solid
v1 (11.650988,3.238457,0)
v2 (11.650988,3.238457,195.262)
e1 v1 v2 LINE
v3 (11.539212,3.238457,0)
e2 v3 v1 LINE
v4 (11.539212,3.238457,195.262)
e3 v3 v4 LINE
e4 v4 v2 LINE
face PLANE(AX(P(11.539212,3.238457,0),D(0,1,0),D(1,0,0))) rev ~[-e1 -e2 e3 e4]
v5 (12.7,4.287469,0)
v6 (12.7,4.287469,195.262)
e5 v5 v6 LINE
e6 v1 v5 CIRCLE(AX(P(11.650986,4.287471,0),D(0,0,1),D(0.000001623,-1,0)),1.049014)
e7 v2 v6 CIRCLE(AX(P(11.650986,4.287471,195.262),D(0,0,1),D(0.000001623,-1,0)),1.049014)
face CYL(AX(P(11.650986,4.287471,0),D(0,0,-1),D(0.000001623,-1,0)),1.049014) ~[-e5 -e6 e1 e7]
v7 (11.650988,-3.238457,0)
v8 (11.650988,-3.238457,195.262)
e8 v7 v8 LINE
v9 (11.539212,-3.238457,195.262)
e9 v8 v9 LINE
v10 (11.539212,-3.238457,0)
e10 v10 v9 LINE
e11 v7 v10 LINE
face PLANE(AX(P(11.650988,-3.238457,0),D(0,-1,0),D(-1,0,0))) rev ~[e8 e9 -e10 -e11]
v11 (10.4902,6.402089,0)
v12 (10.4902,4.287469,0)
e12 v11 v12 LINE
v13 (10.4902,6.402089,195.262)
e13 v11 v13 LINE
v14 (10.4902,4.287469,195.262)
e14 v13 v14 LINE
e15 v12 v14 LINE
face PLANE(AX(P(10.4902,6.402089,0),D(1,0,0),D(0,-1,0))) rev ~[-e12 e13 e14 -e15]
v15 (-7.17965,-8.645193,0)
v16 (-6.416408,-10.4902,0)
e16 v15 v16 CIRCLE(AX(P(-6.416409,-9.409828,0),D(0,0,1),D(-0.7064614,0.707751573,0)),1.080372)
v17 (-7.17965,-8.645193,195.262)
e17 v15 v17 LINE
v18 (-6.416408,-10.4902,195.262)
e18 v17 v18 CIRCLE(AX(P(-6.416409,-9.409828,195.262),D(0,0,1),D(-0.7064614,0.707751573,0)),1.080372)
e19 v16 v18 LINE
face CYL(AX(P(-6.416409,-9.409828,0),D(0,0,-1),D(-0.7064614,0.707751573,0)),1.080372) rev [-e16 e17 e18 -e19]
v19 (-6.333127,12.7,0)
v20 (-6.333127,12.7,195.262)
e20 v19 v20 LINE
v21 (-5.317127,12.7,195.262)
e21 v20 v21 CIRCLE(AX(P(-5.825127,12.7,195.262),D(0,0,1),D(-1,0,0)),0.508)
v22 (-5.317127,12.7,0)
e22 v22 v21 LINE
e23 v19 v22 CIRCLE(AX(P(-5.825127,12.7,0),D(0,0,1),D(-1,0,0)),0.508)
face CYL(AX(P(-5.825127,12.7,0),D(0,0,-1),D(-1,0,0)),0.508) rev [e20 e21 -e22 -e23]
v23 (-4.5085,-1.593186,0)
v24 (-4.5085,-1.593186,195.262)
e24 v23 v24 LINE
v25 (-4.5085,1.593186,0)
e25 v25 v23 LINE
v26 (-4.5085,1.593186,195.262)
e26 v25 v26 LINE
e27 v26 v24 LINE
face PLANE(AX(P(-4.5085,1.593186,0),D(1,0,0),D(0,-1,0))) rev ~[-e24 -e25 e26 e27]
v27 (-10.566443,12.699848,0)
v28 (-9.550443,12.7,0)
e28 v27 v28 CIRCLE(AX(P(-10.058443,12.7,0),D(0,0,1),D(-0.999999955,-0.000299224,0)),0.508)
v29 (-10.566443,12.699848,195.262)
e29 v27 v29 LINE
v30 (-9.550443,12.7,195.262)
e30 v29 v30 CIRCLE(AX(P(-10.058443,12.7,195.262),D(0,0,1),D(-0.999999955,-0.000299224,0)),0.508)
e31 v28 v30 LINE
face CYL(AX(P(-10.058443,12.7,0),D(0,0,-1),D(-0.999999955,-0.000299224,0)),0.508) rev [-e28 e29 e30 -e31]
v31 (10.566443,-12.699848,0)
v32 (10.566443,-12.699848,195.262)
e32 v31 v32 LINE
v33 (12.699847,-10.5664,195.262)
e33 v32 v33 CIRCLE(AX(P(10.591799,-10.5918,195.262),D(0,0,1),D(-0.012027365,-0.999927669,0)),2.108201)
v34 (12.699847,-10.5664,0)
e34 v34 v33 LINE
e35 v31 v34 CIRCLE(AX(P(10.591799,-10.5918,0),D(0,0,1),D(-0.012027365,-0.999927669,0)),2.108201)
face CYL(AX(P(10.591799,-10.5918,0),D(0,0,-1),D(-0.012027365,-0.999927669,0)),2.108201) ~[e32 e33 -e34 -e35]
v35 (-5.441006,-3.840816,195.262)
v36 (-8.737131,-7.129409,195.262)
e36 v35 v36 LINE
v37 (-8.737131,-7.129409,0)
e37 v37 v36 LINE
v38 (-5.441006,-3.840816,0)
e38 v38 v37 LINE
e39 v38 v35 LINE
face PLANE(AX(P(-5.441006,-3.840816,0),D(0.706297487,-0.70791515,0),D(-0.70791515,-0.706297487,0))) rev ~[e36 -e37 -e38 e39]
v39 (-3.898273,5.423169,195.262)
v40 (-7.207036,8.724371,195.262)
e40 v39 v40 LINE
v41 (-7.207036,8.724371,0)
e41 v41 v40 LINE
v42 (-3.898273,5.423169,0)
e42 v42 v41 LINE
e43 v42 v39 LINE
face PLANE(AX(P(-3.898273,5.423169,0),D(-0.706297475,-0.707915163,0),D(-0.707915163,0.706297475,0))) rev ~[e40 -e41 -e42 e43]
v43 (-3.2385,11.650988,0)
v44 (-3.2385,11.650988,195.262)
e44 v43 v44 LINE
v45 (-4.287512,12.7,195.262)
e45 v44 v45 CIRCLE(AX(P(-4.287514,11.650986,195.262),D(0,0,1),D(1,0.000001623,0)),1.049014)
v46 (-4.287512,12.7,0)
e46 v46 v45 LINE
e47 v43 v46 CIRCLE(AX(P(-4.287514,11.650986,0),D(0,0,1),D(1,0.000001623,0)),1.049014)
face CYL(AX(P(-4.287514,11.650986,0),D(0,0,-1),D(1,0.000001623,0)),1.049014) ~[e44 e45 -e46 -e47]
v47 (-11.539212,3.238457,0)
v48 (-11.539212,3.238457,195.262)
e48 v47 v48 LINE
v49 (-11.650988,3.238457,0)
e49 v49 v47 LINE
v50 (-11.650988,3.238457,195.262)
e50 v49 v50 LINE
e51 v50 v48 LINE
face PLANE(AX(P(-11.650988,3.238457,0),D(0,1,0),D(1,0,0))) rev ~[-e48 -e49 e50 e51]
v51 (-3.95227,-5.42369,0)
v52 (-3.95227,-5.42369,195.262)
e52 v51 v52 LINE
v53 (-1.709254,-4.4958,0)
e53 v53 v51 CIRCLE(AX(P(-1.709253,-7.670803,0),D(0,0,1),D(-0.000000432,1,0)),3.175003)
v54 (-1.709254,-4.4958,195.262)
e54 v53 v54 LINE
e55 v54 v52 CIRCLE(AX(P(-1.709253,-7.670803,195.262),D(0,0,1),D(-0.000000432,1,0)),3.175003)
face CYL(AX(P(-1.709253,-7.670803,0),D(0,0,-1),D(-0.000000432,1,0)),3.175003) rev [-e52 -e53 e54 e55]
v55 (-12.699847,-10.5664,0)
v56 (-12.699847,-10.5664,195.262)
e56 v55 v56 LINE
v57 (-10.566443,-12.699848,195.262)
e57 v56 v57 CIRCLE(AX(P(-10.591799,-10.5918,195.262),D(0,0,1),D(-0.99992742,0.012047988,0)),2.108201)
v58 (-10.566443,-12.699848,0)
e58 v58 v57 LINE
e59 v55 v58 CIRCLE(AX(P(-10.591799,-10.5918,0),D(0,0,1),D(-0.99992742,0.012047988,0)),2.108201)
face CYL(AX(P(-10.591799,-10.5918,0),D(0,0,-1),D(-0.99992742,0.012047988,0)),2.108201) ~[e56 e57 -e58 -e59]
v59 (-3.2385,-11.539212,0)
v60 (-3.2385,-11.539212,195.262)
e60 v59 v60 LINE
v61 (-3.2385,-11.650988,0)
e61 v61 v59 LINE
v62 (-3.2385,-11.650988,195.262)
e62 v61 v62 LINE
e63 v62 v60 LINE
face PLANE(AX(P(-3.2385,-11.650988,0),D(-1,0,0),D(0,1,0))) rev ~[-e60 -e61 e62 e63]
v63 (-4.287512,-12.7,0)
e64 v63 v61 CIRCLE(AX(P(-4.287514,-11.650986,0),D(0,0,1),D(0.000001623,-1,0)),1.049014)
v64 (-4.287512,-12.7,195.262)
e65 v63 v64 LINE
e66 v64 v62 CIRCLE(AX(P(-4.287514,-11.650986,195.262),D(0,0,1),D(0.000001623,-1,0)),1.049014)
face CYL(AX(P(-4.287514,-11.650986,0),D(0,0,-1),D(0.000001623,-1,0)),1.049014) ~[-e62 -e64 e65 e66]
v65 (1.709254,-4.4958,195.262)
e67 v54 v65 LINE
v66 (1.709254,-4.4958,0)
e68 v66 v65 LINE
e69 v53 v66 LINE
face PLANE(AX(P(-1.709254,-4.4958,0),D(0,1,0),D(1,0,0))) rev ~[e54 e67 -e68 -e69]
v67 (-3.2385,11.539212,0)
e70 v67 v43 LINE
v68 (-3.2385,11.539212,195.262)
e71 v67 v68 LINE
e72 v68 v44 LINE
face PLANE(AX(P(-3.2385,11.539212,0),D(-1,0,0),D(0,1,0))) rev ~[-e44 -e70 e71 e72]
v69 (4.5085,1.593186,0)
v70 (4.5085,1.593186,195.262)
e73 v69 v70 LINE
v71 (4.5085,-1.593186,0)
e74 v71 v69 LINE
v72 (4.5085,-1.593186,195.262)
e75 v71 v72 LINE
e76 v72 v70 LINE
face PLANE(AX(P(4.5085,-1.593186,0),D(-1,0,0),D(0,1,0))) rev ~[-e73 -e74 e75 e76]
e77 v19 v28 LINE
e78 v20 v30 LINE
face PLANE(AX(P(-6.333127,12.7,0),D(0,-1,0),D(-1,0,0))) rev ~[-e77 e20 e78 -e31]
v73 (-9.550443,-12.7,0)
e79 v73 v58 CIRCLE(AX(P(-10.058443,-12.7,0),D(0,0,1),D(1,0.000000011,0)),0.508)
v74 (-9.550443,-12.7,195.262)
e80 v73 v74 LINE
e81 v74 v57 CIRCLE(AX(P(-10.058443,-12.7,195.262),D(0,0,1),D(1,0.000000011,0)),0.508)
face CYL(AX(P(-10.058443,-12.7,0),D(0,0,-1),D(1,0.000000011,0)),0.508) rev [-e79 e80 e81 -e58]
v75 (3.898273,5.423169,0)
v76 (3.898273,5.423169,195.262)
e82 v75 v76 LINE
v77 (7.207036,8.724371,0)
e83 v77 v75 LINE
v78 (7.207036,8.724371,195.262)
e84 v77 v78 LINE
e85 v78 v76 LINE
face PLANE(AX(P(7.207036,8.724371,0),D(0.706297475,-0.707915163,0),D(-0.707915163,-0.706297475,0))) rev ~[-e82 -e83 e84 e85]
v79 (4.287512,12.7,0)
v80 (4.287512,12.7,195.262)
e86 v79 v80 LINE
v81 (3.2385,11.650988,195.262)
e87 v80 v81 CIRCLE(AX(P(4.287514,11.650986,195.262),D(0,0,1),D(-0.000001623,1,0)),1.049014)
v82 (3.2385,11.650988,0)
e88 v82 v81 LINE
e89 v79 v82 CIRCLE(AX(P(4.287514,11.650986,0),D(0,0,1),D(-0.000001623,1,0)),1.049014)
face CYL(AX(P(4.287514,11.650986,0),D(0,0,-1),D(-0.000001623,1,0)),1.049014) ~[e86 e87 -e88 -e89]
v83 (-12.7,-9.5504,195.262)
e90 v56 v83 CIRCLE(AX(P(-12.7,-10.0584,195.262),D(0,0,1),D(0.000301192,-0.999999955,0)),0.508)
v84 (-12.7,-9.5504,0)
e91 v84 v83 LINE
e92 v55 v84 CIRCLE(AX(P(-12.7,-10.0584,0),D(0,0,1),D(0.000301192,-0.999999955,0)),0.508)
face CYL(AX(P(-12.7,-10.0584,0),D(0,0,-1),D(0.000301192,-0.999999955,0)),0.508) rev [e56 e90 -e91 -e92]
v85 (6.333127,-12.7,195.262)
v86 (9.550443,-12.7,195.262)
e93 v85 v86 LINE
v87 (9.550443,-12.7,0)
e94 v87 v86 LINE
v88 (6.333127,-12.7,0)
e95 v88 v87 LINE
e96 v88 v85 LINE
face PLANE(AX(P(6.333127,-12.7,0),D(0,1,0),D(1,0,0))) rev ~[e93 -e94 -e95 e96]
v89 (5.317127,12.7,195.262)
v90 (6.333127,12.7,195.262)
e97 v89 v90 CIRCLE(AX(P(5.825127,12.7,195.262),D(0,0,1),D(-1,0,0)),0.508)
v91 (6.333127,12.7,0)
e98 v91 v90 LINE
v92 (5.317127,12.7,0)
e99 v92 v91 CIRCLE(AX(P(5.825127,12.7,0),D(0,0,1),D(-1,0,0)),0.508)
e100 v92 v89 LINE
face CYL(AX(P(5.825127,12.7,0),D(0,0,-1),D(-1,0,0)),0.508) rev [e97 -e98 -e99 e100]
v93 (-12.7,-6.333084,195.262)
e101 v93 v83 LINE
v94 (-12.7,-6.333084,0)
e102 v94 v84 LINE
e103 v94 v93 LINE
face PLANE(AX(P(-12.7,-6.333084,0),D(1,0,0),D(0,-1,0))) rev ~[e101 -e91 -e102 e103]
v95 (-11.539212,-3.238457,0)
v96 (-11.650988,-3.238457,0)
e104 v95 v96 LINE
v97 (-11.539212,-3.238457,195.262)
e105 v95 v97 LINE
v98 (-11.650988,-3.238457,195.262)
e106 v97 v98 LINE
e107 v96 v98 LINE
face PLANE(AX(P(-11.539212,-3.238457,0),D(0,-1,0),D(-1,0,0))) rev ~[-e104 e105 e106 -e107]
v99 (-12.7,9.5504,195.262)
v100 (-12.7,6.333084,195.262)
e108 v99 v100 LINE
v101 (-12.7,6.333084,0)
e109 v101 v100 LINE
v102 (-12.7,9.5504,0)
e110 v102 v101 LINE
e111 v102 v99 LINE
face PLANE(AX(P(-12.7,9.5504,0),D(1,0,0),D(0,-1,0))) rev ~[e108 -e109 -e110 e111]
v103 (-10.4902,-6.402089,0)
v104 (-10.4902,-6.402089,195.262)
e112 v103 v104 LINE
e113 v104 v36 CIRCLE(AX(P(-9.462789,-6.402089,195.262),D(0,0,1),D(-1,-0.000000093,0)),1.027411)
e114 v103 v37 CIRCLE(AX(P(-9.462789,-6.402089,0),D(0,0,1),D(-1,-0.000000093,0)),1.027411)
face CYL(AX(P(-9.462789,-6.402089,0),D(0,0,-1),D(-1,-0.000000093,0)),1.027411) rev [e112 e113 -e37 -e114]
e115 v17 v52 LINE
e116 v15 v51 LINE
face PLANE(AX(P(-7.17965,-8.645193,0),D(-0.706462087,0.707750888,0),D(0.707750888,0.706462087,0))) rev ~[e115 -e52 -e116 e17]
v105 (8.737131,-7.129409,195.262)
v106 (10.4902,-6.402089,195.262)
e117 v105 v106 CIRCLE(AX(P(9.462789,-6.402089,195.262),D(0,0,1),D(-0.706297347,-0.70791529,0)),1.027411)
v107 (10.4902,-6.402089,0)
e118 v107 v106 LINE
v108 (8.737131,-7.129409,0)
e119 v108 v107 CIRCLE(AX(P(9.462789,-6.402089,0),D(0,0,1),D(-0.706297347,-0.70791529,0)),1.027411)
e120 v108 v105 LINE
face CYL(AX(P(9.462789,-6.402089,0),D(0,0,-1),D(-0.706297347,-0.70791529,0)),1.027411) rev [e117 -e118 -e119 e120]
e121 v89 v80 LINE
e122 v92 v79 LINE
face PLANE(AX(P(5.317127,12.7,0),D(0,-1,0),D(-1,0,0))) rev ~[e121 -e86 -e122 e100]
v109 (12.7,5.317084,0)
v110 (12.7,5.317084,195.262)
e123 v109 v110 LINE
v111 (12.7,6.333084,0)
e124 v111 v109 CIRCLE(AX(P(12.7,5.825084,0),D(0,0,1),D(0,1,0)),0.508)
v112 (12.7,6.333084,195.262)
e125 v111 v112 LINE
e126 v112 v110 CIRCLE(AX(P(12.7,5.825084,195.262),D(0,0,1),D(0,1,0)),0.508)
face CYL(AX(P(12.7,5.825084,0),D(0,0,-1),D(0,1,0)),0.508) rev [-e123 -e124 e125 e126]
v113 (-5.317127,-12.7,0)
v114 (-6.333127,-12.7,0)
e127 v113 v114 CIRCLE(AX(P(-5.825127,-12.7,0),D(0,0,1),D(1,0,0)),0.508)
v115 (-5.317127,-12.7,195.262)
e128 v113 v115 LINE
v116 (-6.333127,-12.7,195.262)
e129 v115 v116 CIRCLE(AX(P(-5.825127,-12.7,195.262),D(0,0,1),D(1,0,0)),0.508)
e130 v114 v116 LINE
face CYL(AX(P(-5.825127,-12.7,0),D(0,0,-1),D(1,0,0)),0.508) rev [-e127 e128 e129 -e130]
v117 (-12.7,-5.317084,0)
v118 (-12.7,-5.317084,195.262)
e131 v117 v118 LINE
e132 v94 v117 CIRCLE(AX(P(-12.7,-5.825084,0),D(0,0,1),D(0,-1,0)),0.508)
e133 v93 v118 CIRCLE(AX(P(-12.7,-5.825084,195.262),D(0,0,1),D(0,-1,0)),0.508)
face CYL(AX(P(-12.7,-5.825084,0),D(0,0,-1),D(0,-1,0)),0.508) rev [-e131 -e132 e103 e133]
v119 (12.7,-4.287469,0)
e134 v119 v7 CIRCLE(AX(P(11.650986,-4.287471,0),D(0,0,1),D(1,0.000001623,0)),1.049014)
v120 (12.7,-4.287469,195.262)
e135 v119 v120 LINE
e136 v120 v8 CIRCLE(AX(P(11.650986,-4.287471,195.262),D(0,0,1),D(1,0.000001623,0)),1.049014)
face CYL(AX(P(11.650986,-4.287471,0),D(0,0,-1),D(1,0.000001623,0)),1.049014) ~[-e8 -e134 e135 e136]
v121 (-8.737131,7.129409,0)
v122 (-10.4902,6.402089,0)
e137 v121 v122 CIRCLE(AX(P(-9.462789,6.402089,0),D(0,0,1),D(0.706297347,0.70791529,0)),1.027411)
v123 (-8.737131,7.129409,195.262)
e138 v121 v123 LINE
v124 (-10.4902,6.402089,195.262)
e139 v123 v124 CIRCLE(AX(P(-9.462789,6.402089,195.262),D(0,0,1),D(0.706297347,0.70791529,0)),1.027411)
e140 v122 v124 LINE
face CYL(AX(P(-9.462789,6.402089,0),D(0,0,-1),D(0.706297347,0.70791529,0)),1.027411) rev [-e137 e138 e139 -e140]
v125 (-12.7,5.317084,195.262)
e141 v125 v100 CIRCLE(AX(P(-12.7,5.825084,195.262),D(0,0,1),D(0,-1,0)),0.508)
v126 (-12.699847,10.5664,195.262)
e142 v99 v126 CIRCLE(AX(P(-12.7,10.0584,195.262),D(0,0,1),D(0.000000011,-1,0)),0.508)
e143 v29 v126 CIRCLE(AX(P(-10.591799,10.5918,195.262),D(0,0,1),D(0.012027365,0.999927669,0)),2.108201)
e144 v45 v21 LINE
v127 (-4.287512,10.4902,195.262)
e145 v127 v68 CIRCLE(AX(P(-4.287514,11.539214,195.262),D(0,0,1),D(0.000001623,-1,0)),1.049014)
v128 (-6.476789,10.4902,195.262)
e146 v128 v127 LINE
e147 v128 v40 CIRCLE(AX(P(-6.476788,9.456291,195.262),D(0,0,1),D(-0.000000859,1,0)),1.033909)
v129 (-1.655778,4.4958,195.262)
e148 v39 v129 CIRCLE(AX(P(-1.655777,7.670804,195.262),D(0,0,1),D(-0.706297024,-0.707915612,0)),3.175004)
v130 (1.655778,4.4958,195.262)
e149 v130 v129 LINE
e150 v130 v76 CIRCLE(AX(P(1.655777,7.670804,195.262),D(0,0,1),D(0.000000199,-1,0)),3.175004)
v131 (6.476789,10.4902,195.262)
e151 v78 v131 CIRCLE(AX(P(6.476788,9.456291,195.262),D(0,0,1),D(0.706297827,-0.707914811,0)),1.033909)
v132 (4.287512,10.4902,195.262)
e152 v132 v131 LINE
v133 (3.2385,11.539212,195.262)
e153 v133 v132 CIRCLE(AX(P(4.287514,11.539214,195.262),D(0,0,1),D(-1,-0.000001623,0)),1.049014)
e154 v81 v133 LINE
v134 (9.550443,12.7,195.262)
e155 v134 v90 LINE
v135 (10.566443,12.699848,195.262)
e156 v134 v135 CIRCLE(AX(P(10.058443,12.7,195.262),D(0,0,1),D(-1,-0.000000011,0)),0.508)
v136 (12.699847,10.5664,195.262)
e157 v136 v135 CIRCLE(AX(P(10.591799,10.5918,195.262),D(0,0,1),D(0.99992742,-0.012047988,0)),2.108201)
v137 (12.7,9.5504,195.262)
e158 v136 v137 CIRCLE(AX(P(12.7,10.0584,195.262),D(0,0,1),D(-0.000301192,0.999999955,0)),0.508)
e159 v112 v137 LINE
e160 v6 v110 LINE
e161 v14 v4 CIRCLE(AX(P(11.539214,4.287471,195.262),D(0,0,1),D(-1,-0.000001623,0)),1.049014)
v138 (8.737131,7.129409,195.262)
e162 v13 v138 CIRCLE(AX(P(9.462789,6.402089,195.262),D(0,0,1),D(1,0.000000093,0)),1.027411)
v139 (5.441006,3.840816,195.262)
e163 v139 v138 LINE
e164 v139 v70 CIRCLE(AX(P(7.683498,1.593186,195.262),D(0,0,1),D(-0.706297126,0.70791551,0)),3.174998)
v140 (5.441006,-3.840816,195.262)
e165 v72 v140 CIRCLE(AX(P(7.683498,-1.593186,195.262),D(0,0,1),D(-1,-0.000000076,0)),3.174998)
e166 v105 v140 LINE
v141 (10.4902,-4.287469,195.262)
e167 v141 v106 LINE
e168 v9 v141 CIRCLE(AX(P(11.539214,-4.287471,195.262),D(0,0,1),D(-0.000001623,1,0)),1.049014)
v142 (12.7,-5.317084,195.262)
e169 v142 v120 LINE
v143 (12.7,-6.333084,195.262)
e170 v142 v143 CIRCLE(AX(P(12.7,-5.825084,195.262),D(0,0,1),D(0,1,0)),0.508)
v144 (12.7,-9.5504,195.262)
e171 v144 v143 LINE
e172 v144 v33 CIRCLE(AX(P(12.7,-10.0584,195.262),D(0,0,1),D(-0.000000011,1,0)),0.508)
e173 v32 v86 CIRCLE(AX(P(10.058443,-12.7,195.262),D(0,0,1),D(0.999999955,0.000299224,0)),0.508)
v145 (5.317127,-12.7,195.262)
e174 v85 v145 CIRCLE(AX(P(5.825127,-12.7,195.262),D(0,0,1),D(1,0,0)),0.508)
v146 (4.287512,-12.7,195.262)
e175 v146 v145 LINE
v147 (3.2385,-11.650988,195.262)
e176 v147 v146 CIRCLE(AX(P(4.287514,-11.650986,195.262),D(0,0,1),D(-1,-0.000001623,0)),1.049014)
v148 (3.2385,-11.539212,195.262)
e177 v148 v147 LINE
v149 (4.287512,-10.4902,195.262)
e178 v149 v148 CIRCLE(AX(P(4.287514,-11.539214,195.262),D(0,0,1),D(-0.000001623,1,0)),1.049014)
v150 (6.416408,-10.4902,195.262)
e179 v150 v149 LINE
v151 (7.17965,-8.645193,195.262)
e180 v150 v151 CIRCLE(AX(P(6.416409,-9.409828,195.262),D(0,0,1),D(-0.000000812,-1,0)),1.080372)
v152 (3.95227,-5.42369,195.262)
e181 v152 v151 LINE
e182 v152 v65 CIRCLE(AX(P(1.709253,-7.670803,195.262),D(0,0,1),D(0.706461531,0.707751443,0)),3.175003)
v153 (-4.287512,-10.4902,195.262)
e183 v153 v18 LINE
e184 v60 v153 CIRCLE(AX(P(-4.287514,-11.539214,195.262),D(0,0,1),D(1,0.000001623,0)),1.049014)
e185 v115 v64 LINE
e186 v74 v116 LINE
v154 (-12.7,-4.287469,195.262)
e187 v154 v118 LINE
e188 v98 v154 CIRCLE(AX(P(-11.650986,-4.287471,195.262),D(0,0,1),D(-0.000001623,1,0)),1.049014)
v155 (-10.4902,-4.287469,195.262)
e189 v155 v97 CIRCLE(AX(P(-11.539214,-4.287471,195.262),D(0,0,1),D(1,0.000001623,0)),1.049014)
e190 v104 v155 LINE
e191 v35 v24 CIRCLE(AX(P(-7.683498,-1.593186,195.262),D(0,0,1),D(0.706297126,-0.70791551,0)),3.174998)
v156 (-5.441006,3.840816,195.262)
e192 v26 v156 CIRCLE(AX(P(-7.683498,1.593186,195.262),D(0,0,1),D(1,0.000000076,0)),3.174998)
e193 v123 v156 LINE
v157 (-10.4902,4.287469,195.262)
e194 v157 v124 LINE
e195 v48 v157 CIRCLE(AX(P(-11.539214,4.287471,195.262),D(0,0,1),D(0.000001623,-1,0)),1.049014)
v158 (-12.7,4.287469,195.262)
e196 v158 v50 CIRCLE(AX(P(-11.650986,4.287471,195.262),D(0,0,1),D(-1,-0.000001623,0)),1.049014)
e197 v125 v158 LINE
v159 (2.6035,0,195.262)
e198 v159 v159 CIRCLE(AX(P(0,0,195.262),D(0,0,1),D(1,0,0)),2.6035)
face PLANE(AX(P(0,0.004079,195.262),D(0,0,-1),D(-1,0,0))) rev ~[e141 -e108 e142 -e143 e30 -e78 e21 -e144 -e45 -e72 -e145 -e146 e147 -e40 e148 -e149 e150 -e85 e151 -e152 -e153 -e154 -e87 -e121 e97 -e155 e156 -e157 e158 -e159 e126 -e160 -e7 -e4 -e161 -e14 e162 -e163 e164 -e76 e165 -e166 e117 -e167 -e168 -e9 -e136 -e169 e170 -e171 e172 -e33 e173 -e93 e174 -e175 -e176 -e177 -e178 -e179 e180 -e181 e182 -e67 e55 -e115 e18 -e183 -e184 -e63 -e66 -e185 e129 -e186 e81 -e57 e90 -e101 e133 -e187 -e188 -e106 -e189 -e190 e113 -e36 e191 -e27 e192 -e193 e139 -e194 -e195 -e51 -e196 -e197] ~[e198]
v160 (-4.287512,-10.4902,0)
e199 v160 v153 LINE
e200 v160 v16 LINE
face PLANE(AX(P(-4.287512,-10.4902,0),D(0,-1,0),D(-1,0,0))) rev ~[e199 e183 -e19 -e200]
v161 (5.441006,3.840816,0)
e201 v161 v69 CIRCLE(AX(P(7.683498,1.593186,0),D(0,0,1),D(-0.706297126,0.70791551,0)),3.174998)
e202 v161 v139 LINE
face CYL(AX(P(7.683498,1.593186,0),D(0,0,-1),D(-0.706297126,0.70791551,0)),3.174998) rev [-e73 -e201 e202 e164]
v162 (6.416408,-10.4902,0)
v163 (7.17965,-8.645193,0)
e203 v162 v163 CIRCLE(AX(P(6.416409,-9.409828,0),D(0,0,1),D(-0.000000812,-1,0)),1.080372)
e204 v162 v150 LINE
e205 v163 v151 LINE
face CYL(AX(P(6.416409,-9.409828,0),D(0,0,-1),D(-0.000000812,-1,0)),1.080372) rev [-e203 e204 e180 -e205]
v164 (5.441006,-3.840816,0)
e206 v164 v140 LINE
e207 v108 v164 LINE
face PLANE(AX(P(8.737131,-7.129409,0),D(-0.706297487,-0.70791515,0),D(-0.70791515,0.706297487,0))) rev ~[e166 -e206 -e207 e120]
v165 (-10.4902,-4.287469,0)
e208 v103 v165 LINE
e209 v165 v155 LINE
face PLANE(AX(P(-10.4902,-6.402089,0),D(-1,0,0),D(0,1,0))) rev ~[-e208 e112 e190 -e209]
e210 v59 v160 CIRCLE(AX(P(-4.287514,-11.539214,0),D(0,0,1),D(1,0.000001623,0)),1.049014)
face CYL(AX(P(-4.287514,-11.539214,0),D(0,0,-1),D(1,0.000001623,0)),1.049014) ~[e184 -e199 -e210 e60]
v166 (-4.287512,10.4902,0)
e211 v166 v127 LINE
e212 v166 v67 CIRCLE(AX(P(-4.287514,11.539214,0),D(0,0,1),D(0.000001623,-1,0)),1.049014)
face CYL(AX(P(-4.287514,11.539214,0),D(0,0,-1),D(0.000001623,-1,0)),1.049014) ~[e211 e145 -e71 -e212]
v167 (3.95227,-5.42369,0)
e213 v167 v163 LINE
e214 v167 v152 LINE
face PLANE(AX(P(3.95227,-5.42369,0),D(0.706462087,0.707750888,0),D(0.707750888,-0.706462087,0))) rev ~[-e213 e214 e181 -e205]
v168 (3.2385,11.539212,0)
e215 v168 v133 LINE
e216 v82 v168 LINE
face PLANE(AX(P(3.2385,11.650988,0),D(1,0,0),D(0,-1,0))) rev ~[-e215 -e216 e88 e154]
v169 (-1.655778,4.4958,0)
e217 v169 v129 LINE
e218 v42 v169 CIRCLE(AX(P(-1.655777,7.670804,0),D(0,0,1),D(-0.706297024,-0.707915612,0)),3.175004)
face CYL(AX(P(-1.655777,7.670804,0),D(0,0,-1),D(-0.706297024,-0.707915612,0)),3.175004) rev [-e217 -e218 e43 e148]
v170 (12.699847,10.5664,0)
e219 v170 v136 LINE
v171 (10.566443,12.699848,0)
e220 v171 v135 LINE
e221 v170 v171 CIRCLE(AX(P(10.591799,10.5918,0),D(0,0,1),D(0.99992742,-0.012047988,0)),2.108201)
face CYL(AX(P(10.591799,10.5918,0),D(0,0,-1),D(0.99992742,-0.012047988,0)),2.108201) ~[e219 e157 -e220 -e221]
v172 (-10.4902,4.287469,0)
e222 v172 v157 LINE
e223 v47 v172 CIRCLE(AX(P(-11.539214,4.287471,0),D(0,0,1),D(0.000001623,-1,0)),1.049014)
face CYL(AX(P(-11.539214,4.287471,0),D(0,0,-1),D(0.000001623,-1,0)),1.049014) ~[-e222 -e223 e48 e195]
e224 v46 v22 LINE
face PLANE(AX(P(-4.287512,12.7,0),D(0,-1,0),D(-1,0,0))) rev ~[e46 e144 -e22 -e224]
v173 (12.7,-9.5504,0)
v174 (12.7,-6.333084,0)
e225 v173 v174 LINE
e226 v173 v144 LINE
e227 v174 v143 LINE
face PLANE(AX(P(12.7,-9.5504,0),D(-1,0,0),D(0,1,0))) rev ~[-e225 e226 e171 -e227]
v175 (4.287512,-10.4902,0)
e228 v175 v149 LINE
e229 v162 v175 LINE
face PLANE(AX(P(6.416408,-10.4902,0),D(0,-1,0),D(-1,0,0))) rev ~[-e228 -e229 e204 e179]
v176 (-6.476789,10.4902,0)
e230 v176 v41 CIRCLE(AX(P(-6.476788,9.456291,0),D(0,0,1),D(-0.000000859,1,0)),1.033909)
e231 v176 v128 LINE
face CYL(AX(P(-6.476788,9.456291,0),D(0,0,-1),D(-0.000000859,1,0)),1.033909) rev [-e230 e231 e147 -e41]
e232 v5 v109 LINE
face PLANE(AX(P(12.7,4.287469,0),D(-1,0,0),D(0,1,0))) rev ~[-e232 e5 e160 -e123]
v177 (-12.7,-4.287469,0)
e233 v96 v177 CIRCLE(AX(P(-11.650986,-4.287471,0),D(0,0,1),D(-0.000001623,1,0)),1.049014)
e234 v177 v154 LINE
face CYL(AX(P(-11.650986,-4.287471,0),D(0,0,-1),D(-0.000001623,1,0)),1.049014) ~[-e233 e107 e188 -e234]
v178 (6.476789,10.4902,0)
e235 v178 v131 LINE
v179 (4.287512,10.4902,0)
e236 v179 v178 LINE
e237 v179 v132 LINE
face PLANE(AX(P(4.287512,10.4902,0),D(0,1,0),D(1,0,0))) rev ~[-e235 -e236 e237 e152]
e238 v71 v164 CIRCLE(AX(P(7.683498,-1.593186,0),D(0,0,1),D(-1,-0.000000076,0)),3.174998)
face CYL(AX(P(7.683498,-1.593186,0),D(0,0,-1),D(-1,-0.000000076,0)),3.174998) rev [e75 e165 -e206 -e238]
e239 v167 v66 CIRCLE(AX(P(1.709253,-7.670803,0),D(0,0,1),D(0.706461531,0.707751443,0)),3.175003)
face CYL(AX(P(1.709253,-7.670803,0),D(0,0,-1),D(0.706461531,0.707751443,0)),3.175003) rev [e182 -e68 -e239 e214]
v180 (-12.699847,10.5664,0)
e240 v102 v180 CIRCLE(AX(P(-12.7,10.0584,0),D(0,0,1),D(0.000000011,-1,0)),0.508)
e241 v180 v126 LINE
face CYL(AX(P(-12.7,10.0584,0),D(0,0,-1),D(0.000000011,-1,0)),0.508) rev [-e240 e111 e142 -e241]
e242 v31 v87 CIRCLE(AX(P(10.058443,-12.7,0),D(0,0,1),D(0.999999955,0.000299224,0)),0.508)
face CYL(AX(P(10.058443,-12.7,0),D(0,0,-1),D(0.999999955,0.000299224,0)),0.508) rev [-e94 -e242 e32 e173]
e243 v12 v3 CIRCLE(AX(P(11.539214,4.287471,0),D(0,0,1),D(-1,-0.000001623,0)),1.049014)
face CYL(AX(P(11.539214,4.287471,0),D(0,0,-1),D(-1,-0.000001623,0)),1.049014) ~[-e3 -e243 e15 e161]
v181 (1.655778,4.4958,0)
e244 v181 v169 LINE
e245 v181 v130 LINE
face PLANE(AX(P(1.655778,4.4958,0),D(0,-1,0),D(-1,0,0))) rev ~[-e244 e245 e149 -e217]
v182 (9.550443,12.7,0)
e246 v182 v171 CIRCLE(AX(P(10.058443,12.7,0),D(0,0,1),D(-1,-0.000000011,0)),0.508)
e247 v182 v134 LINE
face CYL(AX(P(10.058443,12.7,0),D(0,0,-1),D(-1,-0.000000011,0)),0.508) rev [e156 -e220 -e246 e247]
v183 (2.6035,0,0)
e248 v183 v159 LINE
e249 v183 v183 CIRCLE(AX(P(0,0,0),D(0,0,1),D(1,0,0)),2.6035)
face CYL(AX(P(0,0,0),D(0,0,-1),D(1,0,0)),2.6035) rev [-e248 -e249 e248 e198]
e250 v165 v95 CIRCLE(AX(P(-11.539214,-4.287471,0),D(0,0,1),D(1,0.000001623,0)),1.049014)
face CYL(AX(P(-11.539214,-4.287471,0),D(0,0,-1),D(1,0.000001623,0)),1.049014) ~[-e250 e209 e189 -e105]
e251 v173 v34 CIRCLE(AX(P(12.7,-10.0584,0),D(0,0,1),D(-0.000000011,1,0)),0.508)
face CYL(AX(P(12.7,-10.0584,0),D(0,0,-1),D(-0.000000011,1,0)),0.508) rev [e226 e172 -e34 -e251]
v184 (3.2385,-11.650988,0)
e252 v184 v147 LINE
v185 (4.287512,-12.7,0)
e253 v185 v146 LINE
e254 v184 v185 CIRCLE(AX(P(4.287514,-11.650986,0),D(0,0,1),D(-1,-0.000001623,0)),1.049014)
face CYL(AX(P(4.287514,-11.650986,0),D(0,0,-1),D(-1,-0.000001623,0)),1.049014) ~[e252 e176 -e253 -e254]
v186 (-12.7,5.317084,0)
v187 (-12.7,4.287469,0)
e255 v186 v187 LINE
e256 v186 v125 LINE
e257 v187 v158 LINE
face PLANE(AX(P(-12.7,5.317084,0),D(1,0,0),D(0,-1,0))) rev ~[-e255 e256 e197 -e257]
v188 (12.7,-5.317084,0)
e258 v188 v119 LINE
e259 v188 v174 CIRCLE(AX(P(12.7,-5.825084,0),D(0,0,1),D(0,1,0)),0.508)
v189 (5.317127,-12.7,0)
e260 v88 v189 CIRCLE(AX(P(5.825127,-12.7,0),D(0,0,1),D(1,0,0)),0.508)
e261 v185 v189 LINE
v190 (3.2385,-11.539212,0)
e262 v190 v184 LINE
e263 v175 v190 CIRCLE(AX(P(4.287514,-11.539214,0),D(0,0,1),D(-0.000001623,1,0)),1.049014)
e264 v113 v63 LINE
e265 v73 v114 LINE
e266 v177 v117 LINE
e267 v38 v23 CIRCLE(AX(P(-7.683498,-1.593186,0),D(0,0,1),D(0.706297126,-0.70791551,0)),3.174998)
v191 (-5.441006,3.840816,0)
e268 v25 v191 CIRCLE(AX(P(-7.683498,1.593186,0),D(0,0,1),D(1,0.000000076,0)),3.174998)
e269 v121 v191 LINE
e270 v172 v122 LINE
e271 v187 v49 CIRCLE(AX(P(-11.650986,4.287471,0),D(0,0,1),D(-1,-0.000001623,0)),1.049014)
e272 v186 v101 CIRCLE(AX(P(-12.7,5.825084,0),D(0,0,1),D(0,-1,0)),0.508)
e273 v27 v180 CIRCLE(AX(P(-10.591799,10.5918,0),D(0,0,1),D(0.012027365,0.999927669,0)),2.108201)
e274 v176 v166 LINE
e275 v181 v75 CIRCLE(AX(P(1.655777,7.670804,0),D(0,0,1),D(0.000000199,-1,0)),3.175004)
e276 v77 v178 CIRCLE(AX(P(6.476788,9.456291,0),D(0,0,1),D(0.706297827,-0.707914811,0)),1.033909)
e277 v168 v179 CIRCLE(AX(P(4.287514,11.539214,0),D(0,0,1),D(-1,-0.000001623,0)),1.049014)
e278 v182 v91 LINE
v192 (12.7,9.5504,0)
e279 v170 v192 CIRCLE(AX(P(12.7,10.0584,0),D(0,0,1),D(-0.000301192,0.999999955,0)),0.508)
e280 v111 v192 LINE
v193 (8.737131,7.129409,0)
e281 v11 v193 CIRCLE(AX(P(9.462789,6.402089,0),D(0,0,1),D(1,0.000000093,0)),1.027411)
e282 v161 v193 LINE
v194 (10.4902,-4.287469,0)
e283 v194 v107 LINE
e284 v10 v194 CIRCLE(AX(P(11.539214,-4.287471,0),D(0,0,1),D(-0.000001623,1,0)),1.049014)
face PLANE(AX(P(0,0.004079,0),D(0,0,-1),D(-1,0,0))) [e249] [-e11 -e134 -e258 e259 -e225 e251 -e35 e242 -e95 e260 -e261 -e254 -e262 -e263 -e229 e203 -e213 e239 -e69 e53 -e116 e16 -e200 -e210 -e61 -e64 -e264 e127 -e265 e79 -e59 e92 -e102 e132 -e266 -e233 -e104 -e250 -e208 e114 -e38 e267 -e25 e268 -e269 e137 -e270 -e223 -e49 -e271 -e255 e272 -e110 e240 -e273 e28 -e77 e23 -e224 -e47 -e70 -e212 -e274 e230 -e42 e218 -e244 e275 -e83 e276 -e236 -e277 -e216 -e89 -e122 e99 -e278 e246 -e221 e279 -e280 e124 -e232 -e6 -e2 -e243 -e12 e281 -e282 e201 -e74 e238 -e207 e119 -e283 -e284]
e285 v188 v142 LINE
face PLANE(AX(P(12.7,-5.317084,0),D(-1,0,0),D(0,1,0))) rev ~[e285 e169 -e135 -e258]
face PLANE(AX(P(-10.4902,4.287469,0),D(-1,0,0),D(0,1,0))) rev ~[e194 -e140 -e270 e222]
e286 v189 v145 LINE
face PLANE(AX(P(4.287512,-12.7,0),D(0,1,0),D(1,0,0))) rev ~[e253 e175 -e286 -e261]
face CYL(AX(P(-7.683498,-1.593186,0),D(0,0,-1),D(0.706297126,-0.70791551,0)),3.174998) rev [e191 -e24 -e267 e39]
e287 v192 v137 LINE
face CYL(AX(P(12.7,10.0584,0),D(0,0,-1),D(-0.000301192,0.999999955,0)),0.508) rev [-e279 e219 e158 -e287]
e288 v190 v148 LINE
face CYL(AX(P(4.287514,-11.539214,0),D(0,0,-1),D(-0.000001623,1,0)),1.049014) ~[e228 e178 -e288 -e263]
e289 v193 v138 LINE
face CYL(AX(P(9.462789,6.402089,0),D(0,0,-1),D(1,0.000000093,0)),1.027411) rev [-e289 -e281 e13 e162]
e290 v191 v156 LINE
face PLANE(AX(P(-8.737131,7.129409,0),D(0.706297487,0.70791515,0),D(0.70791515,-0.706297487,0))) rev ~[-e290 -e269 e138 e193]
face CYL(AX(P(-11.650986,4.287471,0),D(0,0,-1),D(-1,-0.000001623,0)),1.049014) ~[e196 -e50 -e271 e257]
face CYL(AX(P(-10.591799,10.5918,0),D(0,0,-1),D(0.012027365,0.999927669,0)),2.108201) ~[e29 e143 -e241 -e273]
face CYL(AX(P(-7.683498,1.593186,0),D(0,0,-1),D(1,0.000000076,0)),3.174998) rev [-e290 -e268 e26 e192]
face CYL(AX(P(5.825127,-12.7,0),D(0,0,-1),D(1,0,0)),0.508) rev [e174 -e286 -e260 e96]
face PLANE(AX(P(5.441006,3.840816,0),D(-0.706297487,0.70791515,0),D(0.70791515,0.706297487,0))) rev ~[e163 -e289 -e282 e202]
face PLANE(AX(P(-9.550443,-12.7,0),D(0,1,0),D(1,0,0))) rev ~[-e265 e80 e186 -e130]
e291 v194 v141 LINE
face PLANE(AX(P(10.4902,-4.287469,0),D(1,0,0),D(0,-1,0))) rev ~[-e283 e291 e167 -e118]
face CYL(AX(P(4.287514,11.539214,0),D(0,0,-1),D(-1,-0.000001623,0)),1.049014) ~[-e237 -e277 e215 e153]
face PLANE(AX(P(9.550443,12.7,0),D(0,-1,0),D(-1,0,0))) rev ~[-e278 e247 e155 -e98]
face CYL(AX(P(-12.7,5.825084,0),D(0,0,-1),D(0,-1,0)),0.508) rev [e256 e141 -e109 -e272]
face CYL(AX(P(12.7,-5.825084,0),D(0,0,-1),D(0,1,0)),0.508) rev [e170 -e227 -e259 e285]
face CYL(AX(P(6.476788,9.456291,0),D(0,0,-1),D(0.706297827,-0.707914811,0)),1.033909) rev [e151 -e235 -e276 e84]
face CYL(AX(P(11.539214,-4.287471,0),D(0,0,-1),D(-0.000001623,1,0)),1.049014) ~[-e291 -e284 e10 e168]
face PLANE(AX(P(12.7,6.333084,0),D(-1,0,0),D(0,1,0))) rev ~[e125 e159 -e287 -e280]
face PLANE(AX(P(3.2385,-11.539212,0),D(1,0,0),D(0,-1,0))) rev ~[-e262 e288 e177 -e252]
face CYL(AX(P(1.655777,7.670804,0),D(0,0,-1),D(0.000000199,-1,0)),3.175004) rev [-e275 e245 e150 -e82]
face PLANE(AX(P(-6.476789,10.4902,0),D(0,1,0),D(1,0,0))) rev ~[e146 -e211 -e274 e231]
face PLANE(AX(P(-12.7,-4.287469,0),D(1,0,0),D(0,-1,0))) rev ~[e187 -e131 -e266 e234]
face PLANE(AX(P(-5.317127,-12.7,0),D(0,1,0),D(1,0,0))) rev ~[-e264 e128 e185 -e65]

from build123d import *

# Parameters (mm, degrees)
SKETCH097_R   = 2.6035
EXTRUDE_DEPTH = 195.262


with BuildPart() as part:
    # Sketch097 → Extrude (new body)
    with BuildSketch(Plane.XY):
        with BuildLine():
            ThreePointArc((12.7, 6.333084), (12.192, 5.825084), (12.7, 5.317084))
            Line((12.7, 4.287469), (12.7, 5.317084))
            ThreePointArc((11.650988, 3.238457), (12.392751, 3.545706), (12.7, 4.287469))
            Line((11.539212, 3.238457), (11.650988, 3.238457))
            ThreePointArc((10.4902, 4.287469), (10.797449, 3.545706), (11.539212, 3.238457))
            Line((10.4902, 6.402089), (10.4902, 4.287469))
            ThreePointArc((10.4902, 6.402089), (9.856505, 7.351068), (8.737131, 7.129409))
            Line((5.441006, 3.840816), (8.737131, 7.129409))
            ThreePointArc((5.441006, 3.840816), (4.750878, 2.809883), (4.5085, 1.593186))
            Line((4.5085, -1.593186), (4.5085, 1.593186))
            ThreePointArc((4.5085, -1.593186), (4.750878, -2.809883), (5.441006, -3.840816))
            Line((8.737131, -7.129409), (5.441006, -3.840816))
            ThreePointArc((8.737131, -7.129409), (9.856505, -7.351068), (10.4902, -6.402089))
            Line((10.4902, -4.287469), (10.4902, -6.402089))
            ThreePointArc((11.539212, -3.238457), (10.797449, -3.545706), (10.4902, -4.287469))
            Line((11.650988, -3.238457), (11.539212, -3.238457))
            ThreePointArc((12.7, -4.287469), (12.392751, -3.545706), (11.650988, -3.238457))
            Line((12.7, -5.317084), (12.7, -4.287469))
            ThreePointArc((12.7, -5.317084), (12.192, -5.825084), (12.7, -6.333084))
            Line((12.7, -9.5504), (12.7, -6.333084))
            ThreePointArc((12.7, -9.5504), (12.192, -10.058323), (12.699847, -10.5664))
            ThreePointArc((10.566443, -12.699848), (12.082538, -12.082507), (12.699847, -10.5664))
            ThreePointArc((10.566443, -12.699848), (10.058367, -12.192), (9.550443, -12.7))
            Line((6.333127, -12.7), (9.550443, -12.7))
            ThreePointArc((6.333127, -12.7), (5.825127, -12.192), (5.317127, -12.7))
            Line((4.287512, -12.7), (5.317127, -12.7))
            ThreePointArc((3.2385, -11.650988), (3.545749, -12.392751), (4.287512, -12.7))
            Line((3.2385, -11.539212), (3.2385, -11.650988))
            ThreePointArc((4.287512, -10.4902), (3.545749, -10.797449), (3.2385, -11.539212))
            Line((6.416408, -10.4902), (4.287512, -10.4902))
            ThreePointArc((6.416408, -10.4902), (7.414731, -9.822813), (7.17965, -8.645193))
            Line((3.95227, -5.42369), (7.17965, -8.645193))
            ThreePointArc((3.95227, -5.42369), (2.922936, -4.736929), (1.709254, -4.4958))
            Line((-1.709254, -4.4958), (1.709254, -4.4958))
            ThreePointArc((-1.709254, -4.4958), (-2.922936, -4.736929), (-3.95227, -5.42369))
            Line((-7.17965, -8.645193), (-3.95227, -5.42369))
            ThreePointArc((-7.17965, -8.645193), (-7.414731, -9.822813), (-6.416408, -10.4902))
            Line((-4.287512, -10.4902), (-6.416408, -10.4902))
            ThreePointArc((-3.2385, -11.539212), (-3.545749, -10.797449), (-4.287512, -10.4902))
            Line((-3.2385, -11.650988), (-3.2385, -11.539212))
            ThreePointArc((-4.287512, -12.7), (-3.545749, -12.392751), (-3.2385, -11.650988))
            Line((-5.317127, -12.7), (-4.287512, -12.7))
            ThreePointArc((-5.317127, -12.7), (-5.825127, -12.192), (-6.333127, -12.7))
            Line((-9.550443, -12.7), (-6.333127, -12.7))
            ThreePointArc((-9.550443, -12.7), (-10.058367, -12.192), (-10.566443, -12.699848))
            ThreePointArc((-12.699847, -10.5664), (-12.082538, -12.082507), (-10.566443, -12.699848))
            ThreePointArc((-12.699847, -10.5664), (-12.192, -10.058323), (-12.7, -9.5504))
            Line((-12.7, -6.333084), (-12.7, -9.5504))
            ThreePointArc((-12.7, -6.333084), (-12.192, -5.825084), (-12.7, -5.317084))
            Line((-12.7, -4.287469), (-12.7, -5.317084))
            ThreePointArc((-11.650988, -3.238457), (-12.392751, -3.545706), (-12.7, -4.287469))
            Line((-11.539212, -3.238457), (-11.650988, -3.238457))
            ThreePointArc((-10.4902, -4.287469), (-10.797449, -3.545706), (-11.539212, -3.238457))
            Line((-10.4902, -6.402089), (-10.4902, -4.287469))
            ThreePointArc((-10.4902, -6.402089), (-9.856505, -7.351068), (-8.737131, -7.129409))
            Line((-5.441006, -3.840816), (-8.737131, -7.129409))
            ThreePointArc((-5.441006, -3.840816), (-4.750878, -2.809883), (-4.5085, -1.593186))
            Line((-4.5085, 1.593186), (-4.5085, -1.593186))
            ThreePointArc((-4.5085, 1.593186), (-4.750878, 2.809883), (-5.441006, 3.840816))
            Line((-8.737131, 7.129409), (-5.441006, 3.840816))
            ThreePointArc((-8.737131, 7.129409), (-9.856505, 7.351068), (-10.4902, 6.402089))
            Line((-10.4902, 4.287469), (-10.4902, 6.402089))
            ThreePointArc((-11.539212, 3.238457), (-10.797449, 3.545706), (-10.4902, 4.287469))
            Line((-11.650988, 3.238457), (-11.539212, 3.238457))
            ThreePointArc((-12.7, 4.287469), (-12.392751, 3.545706), (-11.650988, 3.238457))
            Line((-12.7, 5.317084), (-12.7, 4.287469))
            ThreePointArc((-12.7, 5.317084), (-12.192, 5.825084), (-12.7, 6.333084))
            Line((-12.7, 9.5504), (-12.7, 6.333084))
            ThreePointArc((-12.7, 9.5504), (-12.192, 10.058323), (-12.699847, 10.5664))
            ThreePointArc((-10.566443, 12.699848), (-12.082538, 12.082507), (-12.699847, 10.5664))
            ThreePointArc((-10.566443, 12.699848), (-10.058367, 12.192), (-9.550443, 12.7))
            Line((-6.333127, 12.7), (-9.550443, 12.7))
            ThreePointArc((-6.333127, 12.7), (-5.825127, 12.192), (-5.317127, 12.7))
            Line((-4.287512, 12.7), (-5.317127, 12.7))
            ThreePointArc((-3.2385, 11.650988), (-3.545749, 12.392751), (-4.287512, 12.7))
            Line((-3.2385, 11.539212), (-3.2385, 11.650988))
            ThreePointArc((-4.287512, 10.4902), (-3.545749, 10.797449), (-3.2385, 11.539212))
            Line((-6.476789, 10.4902), (-4.287512, 10.4902))
            ThreePointArc((-6.476789, 10.4902), (-7.432222, 9.851404), (-7.207036, 8.724371))
            Line((-3.898273, 5.423169), (-7.207036, 8.724371))
            ThreePointArc((-3.898273, 5.423169), (-2.86912, 4.736788), (-1.655778, 4.4958))
            Line((1.655778, 4.4958), (-1.655778, 4.4958))
            ThreePointArc((1.655778, 4.4958), (2.86912, 4.736788), (3.898273, 5.423169))
            Line((7.207036, 8.724371), (3.898273, 5.423169))
            ThreePointArc((7.207036, 8.724371), (7.432222, 9.851404), (6.476789, 10.4902))
            Line((4.287512, 10.4902), (6.476789, 10.4902))
            ThreePointArc((3.2385, 11.539212), (3.545749, 10.797449), (4.287512, 10.4902))
            Line((3.2385, 11.650988), (3.2385, 11.539212))
            ThreePointArc((4.287512, 12.7), (3.545749, 12.392751), (3.2385, 11.650988))
            Line((5.317127, 12.7), (4.287512, 12.7))
            ThreePointArc((5.317127, 12.7), (5.825127, 12.192), (6.333127, 12.7))
            Line((9.550443, 12.7), (6.333127, 12.7))
            ThreePointArc((9.550443, 12.7), (10.058367, 12.192), (10.566443, 12.699848))
            ThreePointArc((12.699847, 10.5664), (12.082538, 12.082507), (10.566443, 12.699848))
            ThreePointArc((12.699847, 10.5664), (12.192, 10.058323), (12.7, 9.5504))
            Line((12.7, 6.333084), (12.7, 9.5504))
        make_face()
        Circle(SKETCH097_R, mode=Mode.SUBTRACT)
    extrude(amount=EXTRUDE_DEPTH)


solid = part.part
